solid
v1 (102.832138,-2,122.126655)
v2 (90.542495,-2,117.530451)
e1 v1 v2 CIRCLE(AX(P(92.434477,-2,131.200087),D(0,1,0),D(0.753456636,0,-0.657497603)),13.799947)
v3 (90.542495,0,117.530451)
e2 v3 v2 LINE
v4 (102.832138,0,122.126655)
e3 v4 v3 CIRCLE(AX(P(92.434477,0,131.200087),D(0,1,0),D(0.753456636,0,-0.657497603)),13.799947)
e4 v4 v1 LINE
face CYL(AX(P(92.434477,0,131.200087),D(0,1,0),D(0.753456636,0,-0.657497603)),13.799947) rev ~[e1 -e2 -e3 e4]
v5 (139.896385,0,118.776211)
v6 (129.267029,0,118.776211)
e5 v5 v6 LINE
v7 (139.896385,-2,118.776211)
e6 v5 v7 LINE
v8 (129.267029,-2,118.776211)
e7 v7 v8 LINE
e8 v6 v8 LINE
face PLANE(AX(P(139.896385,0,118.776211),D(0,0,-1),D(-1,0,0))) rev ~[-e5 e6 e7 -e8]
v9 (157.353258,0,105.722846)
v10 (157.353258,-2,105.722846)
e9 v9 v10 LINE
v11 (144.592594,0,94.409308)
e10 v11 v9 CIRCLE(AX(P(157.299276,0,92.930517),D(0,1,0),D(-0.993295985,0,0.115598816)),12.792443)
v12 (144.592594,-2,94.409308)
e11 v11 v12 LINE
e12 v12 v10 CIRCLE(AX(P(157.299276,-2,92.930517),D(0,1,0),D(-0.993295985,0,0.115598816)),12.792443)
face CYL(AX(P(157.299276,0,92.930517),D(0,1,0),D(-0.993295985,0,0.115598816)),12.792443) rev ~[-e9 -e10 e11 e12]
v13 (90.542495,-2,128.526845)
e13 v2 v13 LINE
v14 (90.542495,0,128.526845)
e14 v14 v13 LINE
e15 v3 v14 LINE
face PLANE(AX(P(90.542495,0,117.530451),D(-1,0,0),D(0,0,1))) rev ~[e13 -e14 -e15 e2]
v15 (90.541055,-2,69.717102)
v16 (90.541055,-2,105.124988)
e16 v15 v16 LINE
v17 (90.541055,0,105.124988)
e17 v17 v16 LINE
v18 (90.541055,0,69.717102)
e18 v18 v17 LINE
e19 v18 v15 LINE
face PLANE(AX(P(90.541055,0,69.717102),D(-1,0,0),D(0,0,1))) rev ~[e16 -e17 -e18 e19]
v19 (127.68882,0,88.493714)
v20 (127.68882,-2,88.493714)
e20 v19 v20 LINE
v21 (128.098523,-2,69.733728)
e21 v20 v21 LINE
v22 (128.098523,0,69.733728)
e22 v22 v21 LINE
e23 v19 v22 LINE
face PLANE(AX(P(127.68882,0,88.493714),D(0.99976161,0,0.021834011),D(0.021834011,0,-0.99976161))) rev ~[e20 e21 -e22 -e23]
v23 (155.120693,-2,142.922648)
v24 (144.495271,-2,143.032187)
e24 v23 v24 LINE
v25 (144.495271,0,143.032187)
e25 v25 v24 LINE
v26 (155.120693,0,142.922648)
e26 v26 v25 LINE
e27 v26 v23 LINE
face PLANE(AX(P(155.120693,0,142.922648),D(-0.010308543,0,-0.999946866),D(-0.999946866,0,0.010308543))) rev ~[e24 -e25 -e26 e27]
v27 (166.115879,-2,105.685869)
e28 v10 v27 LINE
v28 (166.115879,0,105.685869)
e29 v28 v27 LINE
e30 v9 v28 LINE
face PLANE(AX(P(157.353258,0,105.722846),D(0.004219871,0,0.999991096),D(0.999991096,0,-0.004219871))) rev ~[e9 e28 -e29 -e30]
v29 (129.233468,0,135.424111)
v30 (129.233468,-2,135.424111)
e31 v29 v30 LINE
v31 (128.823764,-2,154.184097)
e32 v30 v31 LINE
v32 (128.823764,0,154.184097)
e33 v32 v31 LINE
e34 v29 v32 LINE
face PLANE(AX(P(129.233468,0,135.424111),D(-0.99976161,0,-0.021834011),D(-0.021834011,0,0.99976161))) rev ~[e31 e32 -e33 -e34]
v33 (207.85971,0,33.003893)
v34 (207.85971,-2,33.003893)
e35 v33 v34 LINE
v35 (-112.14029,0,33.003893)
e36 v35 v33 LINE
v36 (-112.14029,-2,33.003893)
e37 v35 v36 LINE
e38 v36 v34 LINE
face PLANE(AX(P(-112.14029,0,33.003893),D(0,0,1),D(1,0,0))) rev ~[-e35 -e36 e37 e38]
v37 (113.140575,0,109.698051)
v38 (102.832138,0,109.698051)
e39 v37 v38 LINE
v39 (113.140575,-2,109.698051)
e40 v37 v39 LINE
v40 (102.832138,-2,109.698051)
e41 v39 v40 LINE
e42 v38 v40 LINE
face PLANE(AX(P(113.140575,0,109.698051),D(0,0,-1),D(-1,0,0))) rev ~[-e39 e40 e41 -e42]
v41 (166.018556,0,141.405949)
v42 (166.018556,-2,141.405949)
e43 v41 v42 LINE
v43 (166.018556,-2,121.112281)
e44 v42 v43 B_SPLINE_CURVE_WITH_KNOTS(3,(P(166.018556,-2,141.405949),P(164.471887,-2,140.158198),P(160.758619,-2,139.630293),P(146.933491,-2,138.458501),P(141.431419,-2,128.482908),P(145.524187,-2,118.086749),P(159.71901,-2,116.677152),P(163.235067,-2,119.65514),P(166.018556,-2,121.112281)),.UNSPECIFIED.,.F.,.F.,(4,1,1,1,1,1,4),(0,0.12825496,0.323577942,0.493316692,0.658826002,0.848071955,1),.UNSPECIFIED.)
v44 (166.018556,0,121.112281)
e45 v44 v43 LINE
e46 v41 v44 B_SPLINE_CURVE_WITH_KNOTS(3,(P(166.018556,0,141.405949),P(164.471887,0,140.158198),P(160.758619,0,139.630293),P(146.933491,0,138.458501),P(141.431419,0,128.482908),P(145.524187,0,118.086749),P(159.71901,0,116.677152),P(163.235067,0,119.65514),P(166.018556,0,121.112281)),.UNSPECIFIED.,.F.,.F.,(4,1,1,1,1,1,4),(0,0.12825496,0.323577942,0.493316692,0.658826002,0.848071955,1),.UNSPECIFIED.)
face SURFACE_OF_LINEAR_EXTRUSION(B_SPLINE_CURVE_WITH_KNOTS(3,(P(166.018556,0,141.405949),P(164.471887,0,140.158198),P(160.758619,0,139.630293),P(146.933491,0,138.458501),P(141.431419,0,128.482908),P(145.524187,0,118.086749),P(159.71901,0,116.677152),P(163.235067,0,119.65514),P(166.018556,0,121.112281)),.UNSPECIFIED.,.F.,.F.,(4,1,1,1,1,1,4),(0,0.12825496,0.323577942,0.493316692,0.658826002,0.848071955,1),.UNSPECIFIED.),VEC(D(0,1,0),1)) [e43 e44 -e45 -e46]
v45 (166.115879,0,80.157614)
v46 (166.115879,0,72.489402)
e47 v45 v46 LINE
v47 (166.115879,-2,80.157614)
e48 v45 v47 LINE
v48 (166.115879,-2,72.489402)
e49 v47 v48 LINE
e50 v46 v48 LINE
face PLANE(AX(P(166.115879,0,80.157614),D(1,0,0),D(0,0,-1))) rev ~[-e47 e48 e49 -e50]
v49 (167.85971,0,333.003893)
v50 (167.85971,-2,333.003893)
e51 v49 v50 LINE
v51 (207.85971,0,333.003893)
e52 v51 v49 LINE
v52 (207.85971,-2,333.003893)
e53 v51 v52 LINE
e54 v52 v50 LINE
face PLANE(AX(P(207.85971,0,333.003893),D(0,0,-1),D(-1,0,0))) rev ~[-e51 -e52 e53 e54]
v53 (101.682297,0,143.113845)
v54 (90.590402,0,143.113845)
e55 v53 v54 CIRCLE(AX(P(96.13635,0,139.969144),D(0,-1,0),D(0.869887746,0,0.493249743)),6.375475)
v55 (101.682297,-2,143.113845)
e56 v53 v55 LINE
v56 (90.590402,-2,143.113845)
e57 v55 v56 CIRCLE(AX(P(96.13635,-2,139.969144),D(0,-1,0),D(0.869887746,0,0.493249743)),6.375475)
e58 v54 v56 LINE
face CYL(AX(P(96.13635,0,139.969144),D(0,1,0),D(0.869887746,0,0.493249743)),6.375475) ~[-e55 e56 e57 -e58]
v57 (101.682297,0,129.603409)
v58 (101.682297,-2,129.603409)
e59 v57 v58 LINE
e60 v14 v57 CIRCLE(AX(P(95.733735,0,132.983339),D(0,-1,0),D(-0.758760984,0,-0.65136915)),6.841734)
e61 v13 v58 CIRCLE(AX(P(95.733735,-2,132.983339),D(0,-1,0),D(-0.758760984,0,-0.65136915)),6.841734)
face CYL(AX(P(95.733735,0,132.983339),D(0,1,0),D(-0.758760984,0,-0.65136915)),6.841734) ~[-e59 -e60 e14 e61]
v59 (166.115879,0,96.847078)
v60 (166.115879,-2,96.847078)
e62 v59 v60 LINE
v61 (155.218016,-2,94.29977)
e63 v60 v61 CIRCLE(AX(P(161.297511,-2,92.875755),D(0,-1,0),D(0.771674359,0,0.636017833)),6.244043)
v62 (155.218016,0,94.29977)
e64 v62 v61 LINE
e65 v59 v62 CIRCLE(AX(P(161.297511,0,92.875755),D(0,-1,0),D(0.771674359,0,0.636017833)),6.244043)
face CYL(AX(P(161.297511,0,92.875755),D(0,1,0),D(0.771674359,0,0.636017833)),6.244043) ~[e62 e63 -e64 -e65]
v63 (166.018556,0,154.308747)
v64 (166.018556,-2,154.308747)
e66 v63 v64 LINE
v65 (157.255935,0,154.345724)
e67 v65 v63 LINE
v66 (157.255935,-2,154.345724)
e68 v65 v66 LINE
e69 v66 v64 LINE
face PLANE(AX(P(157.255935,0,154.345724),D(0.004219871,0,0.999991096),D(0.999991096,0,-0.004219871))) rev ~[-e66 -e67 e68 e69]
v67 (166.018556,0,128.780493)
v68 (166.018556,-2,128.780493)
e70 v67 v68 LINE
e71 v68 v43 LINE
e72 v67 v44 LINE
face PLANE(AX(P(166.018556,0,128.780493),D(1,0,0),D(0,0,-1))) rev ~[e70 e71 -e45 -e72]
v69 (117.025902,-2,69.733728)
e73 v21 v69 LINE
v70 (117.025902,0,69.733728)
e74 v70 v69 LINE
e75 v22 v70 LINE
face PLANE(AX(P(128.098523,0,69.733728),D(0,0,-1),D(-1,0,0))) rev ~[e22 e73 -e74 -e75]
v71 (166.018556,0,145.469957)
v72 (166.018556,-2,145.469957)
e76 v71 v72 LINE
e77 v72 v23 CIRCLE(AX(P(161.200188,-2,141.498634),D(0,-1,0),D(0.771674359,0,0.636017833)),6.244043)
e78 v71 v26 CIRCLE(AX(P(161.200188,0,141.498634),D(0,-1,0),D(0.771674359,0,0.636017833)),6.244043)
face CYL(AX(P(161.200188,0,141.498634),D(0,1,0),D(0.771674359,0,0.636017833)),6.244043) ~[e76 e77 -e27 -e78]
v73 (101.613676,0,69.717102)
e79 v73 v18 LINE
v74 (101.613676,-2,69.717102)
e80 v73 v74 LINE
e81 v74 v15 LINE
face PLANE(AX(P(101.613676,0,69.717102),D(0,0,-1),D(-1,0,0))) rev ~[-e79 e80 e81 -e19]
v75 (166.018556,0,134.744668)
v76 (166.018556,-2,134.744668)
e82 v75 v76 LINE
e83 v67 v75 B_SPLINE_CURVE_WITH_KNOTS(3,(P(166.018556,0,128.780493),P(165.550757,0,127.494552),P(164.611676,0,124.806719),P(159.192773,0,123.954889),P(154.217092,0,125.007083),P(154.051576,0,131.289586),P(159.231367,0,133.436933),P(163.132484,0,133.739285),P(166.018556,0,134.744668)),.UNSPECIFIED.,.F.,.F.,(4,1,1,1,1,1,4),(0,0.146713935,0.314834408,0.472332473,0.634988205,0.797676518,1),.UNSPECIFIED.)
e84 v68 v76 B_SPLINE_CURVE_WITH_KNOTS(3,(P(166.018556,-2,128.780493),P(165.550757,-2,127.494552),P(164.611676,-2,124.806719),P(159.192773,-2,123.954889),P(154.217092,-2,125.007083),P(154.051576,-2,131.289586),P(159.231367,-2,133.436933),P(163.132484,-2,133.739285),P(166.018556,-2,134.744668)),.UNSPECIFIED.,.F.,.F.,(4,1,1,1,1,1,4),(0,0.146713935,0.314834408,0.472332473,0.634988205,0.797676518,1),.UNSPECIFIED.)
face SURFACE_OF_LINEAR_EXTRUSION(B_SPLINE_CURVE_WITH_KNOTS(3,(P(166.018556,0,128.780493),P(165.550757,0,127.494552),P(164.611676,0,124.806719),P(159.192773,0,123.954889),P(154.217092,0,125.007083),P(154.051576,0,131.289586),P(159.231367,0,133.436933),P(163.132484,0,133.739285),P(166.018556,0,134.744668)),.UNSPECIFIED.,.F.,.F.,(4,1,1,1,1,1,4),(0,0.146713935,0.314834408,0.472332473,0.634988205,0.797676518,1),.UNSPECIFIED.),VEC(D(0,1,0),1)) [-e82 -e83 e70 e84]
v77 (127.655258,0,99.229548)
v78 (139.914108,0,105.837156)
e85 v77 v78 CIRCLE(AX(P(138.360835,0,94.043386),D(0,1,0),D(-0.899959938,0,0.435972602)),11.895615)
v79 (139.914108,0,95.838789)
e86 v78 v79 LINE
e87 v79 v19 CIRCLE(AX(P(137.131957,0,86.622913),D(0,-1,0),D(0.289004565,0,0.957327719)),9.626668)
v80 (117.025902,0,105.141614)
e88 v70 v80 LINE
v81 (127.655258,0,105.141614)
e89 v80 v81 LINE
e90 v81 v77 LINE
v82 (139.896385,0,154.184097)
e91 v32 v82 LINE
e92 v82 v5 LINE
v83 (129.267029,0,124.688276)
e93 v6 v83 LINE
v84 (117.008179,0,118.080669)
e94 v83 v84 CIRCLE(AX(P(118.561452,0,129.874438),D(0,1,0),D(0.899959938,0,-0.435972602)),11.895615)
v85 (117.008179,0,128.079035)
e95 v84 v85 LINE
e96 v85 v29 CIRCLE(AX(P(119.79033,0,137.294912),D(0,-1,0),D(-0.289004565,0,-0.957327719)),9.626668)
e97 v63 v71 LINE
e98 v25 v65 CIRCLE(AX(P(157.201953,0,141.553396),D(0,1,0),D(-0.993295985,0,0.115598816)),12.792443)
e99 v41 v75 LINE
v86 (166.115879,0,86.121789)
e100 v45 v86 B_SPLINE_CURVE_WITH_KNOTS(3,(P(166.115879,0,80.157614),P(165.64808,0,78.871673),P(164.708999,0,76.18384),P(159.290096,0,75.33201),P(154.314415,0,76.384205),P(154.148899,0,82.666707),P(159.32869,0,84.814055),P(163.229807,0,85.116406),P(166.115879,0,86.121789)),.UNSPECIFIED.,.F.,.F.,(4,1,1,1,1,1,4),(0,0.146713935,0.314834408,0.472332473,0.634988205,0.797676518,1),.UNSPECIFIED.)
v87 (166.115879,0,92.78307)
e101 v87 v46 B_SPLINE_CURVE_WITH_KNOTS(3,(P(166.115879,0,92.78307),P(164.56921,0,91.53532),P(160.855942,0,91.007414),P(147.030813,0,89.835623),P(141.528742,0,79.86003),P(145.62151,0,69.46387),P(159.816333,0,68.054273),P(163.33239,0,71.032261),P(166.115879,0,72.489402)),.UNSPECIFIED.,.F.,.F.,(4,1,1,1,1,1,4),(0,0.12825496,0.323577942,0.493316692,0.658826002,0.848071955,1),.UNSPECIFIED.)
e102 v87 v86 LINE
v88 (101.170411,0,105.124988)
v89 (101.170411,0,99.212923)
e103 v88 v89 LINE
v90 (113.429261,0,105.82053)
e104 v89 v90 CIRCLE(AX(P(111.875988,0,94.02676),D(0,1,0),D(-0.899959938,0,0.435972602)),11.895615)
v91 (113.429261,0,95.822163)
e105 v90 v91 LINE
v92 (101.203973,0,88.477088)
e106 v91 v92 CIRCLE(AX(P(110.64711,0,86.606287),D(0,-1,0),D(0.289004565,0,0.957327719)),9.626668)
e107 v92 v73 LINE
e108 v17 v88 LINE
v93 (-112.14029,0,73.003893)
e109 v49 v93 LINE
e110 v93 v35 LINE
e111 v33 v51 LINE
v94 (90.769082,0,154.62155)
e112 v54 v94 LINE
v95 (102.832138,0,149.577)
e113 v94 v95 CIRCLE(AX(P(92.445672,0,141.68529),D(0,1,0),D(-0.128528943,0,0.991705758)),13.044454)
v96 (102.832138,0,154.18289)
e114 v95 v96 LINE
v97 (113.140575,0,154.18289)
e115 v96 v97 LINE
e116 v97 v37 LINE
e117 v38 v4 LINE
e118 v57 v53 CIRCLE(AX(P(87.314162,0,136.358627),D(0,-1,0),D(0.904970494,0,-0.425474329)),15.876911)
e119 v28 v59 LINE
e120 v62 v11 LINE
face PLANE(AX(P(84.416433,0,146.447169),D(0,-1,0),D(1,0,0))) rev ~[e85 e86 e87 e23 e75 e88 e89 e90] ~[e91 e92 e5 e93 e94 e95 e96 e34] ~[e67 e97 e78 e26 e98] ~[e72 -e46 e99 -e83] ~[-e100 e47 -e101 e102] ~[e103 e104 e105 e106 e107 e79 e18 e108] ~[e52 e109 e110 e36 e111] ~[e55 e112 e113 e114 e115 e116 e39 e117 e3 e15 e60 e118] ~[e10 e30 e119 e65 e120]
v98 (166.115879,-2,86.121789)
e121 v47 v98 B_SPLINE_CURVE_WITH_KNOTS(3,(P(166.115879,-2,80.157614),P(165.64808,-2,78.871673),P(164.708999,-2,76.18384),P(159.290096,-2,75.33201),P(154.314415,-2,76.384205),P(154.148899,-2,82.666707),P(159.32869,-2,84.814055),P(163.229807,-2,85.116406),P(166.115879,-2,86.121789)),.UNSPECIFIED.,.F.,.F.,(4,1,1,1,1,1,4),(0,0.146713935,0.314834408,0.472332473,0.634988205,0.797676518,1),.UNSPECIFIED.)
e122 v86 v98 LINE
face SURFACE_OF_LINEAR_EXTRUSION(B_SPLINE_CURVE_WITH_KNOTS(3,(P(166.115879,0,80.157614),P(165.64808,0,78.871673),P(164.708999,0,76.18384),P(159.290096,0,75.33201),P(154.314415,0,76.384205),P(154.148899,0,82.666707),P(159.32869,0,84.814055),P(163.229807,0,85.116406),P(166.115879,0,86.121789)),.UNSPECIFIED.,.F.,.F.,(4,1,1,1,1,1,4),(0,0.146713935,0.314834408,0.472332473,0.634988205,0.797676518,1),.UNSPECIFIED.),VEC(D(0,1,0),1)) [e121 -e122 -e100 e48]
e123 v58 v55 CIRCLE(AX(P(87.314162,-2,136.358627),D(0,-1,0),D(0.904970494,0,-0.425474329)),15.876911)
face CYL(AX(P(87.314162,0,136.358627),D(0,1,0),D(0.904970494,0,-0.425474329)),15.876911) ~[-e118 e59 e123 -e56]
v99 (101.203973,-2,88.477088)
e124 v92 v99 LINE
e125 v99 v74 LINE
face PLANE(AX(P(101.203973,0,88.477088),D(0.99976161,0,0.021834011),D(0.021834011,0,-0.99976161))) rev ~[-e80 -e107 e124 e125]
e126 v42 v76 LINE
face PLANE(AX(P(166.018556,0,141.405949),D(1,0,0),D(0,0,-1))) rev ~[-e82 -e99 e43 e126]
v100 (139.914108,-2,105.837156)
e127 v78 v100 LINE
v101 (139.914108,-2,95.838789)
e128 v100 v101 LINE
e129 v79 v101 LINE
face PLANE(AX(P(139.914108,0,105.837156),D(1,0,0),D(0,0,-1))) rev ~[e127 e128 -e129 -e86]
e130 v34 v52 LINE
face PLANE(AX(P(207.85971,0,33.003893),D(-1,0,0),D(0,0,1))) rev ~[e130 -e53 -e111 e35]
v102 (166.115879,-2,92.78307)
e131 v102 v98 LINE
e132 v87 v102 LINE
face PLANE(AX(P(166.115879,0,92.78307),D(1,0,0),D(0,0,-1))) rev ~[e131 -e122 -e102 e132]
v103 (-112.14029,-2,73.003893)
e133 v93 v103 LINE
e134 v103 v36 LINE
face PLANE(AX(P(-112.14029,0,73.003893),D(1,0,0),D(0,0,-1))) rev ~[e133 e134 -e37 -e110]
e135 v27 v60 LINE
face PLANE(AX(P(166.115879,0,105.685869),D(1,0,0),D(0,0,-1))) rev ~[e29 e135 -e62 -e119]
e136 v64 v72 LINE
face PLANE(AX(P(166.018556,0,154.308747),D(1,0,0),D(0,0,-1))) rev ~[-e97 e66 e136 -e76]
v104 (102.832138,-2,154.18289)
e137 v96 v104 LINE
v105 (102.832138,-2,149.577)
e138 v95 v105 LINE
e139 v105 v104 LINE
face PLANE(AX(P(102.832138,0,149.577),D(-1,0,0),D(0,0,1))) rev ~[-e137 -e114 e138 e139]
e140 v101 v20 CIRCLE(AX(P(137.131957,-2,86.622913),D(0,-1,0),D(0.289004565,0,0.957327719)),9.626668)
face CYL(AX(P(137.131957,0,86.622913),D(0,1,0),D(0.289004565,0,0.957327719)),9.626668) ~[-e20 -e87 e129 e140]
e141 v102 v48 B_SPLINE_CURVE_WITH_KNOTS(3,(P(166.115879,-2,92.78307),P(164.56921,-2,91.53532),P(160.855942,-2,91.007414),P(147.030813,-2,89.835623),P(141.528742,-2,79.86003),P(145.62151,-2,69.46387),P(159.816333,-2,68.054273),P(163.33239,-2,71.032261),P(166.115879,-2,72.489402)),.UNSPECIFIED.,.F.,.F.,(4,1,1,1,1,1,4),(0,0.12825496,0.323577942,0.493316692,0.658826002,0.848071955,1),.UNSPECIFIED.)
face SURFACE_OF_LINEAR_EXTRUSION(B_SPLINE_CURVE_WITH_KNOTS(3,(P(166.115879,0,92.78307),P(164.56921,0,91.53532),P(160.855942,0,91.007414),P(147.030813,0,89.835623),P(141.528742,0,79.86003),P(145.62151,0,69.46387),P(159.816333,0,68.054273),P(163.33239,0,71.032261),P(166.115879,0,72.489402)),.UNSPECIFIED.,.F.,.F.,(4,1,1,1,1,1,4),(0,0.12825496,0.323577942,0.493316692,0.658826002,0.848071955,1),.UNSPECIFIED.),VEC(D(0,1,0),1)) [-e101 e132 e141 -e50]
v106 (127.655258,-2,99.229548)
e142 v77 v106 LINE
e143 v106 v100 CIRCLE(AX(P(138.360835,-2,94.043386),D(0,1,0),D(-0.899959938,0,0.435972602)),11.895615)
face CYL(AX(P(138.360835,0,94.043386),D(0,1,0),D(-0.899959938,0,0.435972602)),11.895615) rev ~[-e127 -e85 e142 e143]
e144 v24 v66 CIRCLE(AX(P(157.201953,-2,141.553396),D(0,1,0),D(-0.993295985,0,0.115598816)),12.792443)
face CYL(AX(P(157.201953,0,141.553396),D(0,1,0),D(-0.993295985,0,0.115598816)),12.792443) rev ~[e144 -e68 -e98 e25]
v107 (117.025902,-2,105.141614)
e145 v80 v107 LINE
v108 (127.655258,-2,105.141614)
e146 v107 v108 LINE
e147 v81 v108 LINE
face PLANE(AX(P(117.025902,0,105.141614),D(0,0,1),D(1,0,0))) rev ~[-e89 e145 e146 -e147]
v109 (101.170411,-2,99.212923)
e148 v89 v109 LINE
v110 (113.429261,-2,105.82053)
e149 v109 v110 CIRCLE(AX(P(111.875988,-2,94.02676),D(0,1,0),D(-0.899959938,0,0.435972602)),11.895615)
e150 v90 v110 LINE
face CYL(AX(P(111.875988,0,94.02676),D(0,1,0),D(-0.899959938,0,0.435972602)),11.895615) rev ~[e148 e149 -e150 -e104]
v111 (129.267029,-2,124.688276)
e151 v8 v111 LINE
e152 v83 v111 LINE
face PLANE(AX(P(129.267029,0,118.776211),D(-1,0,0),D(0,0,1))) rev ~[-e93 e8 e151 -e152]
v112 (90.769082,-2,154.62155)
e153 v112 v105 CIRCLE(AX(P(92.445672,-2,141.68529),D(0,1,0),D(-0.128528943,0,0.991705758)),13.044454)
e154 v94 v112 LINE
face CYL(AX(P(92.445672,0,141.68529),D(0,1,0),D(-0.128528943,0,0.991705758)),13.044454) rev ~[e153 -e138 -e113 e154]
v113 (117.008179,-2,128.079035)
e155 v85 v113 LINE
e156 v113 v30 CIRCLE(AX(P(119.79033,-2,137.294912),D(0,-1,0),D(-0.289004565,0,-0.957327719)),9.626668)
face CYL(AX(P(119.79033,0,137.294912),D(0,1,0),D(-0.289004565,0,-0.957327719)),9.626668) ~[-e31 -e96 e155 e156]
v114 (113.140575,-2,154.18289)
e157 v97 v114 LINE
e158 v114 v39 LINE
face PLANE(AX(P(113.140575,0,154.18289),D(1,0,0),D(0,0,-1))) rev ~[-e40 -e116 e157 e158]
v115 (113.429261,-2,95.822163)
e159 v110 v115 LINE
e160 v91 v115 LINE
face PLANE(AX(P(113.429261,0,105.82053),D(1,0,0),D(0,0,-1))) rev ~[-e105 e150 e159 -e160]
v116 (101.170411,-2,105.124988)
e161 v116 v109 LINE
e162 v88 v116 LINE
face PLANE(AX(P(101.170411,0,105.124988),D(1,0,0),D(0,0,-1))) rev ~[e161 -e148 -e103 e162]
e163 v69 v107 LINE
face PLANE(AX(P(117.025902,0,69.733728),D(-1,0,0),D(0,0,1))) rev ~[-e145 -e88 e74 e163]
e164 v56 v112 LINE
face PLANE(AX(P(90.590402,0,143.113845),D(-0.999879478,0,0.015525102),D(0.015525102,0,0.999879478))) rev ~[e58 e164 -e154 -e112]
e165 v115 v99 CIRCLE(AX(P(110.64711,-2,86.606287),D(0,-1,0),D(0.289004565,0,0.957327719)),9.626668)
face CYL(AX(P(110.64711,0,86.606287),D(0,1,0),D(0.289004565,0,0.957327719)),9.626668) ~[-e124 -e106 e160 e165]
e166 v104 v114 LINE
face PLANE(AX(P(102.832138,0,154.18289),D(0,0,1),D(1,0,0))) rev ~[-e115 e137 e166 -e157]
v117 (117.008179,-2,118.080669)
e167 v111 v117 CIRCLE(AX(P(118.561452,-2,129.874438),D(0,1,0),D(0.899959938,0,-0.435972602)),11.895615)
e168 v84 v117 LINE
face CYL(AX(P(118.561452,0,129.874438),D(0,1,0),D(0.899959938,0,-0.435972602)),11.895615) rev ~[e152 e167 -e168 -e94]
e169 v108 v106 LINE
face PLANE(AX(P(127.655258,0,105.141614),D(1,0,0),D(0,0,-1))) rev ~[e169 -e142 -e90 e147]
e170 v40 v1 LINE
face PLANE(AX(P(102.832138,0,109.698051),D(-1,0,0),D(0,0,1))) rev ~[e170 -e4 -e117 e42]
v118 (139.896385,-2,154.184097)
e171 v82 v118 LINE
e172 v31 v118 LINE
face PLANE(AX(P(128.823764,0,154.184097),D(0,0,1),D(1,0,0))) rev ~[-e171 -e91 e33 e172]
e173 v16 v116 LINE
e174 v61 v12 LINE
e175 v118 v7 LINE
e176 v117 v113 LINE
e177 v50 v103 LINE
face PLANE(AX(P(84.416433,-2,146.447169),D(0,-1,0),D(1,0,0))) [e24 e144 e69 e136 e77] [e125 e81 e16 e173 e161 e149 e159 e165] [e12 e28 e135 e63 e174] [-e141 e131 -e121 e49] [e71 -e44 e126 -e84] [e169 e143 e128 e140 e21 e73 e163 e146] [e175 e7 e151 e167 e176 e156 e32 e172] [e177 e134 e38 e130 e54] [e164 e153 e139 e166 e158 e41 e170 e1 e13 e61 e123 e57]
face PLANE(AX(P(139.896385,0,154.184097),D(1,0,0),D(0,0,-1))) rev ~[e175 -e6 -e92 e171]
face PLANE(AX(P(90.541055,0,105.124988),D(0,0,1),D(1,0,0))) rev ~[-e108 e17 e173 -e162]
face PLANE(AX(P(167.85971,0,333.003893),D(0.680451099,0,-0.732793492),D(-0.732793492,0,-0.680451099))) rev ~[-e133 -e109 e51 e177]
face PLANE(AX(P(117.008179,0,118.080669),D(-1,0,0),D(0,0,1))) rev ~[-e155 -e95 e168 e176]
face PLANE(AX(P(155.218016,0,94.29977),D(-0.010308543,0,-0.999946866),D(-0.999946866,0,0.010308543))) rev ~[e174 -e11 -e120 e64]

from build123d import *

# Parameters (mm, degrees)
F1_DEPTH = 2


with BuildPart() as f1:
    # F0 (on Front) → F1 (new body)
    with BuildSketch(Plane.XZ):
        Polygon((-112.1402904391, 33.0038927495), (207.8597095609, 33.0038927495), (207.8597095609, 332.3038927495), (207.8597095609, 333.0038927495), (167.8597095609, 333.0038927495), (-112.1402904391, 73.0038927495), align=None)
        with BuildLine():
            Line((101.2039725726, 88.4770882584), (101.6136759777, 69.7171021446))
            Line((101.6136759777, 69.7171021446), (90.5410552282, 69.7171021446))
            Line((90.5410552282, 69.7171021446), (90.5410552282, 105.1249880537))
            Line((90.5410552282, 105.1249880537), (101.1704111356, 105.1249880537))
            Line((101.1704111356, 105.1249880537), (101.1704111356, 99.2129225477))
            ThreePointArc((101.1704111356, 99.2129225477), (106.2318508757, 104.4981198242), (113.4292611737, 105.8205295548))
            Line((113.4292611737, 105.8205295548), (113.4292611737, 95.8221633181))
            ThreePointArc((113.4292611737, 95.8221633181), (105.6893165245, 94.8581367621), (101.2039725726, 88.4770882584))
        make_face(mode=Mode.SUBTRACT)
        with BuildLine():
            Line((127.6888195951, 88.4937142061), (128.0985230001, 69.7337280923))
            Line((128.0985230001, 69.7337280923), (117.0259022507, 69.7337280923))
            Line((117.0259022507, 69.7337280923), (117.0259022507, 105.1416140014))
            Line((117.0259022507, 105.1416140014), (127.6552581581, 105.1416140014))
            Line((127.6552581581, 105.1416140014), (127.6552581581, 99.2295484954))
            ThreePointArc((127.6552581581, 99.2295484954), (132.7166978981, 104.5147457719), (139.9141081962, 105.8371555025))
            Line((139.9141081962, 105.8371555025), (139.9141081962, 95.8387892658))
            ThreePointArc((139.9141081962, 95.8387892658), (132.1741635469, 94.8747627098), (127.6888195951, 88.4937142061))
        make_face(mode=Mode.SUBTRACT)
        with BuildLine():
            add(Edge.make_bspline(
                [(166.1158787618, 92.7830700848), (164.5692102089, 91.5353198263), (160.8559417387, 91.0074140824), (147.0308134747, 89.8356227603), (141.5287422164, 79.8600298922), (145.6215095019, 69.4638702682), (159.8163332075, 68.0542730887), (163.3323899676, 71.0322612124), (166.1158787618, 72.4894021723)],
                knots=[0, 0, 0, 0, 0.1282549597, 0.3235779421, 0.4933166916, 0.6588260023, 0.8480719548, 1, 1, 1, 1], degree=3))
            Line((166.1158787618, 92.7830700848), (166.1158787618, 86.1217890952))
            add(Edge.make_bspline(
                [(166.1158787618, 80.1576142285), (165.648079511, 78.8716732666), (164.7089985438, 76.1838402752), (159.2900957109, 75.3320101397), (154.3144147308, 76.3842047893), (154.1488989038, 82.6667071186), (159.3286899056, 84.8140545113), (163.2298071329, 85.1164060676), (166.1158787618, 86.1217890952)],
                knots=[0, 0, 0, 0, 0.1467139352, 0.3148344078, 0.4723324727, 0.6349882053, 0.7976765175, 1, 1, 1, 1], degree=3))
            Line((166.1158787618, 80.1576142285), (166.1158787618, 72.4894021723))
        make_face(mode=Mode.SUBTRACT)
        with BuildLine():
            ThreePointArc((144.5925937182, 94.4093083117), (148.8127137387, 102.502604489), (157.3532582577, 105.7228459891))
            Line((157.3532582577, 105.7228459891), (166.1158787618, 105.6858685351))
            Line((166.1158787618, 105.6858685351), (166.1158787618, 96.8470781765))
            ThreePointArc((166.1158787618, 96.8470781765), (159.8763121864, 98.9559091904), (155.2180157191, 94.2997698758))
            Line((155.2180157191, 94.2997698758), (144.5925937182, 94.4093083117))
        make_face(mode=Mode.SUBTRACT)
        with BuildLine():
            ThreePointArc((90.7690819051, 154.6215500374), (97.4783010599, 153.7198410632), (102.8321381356, 149.5770003338))
            Line((102.8321381356, 149.5770003338), (102.8321381356, 154.1828896542))
            Line((102.8321381356, 154.1828896542), (113.140575185, 154.1828896542))
            Line((113.140575185, 154.1828896542), (113.140575185, 109.6980508108))
            Line((113.140575185, 109.6980508108), (102.8321381356, 109.6980508108))
            Line((102.8321381356, 109.6980508108), (102.8321381356, 122.1266548772))
            ThreePointArc((102.8321381356, 122.1266548772), (97.2685141585, 118.2745070428), (90.5424948479, 117.5304513116))
            Line((90.5424948479, 117.5304513116), (90.5424948479, 128.526845171))
            ThreePointArc((90.5424948479, 128.526845171), (96.3918627119, 126.17333299), (101.6822974827, 129.6034093638))
            ThreePointArc((101.6822974827, 129.6034093638), (103.1910724549, 136.3586272736), (101.6822974827, 143.1138451834))
            ThreePointArc((101.6822974827, 143.1138451834), (96.1363497819, 146.3446188485), (90.5904020812, 143.1138451834))
            Line((90.5904020812, 143.1138451834), (90.7690819051, 154.6215500374))
        make_face(mode=Mode.SUBTRACT)
        with BuildLine():
            Line((129.2334676245, 135.4241105345), (128.8237642195, 154.1840966483))
            Line((128.8237642195, 154.1840966483), (139.8963849689, 154.1840966483))
            Line((139.8963849689, 154.1840966483), (139.8963849689, 118.7762107392))
            Line((139.8963849689, 118.7762107392), (129.2670290615, 118.7762107392))
            Line((129.2670290615, 118.7762107392), (129.2670290615, 124.6882762452))
            ThreePointArc((129.2670290615, 124.6882762452), (124.2055893215, 119.4030789686), (117.0081790234, 118.0806692381))
            Line((117.0081790234, 118.0806692381), (117.0081790234, 128.0790354748))
            ThreePointArc((117.0081790234, 128.0790354748), (124.7481236727, 129.0430620307), (129.2334676245, 135.4241105345))
        make_face(mode=Mode.SUBTRACT)
        with BuildLine():
            add(Edge.make_bspline(
                [(166.0185557871, 141.4059485932), (164.4718872342, 140.1581983347), (160.7586187641, 139.6302925908), (146.9334905, 138.4585012686), (141.4314192417, 128.4829084005), (145.5241865272, 118.0867487766), (159.7190102328, 116.6771515971), (163.2350669929, 119.6551397208), (166.0185557871, 121.1122806807)],
                knots=[0, 0, 0, 0, 0.1282549597, 0.3235779421, 0.4933166916, 0.6588260023, 0.8480719548, 1, 1, 1, 1], degree=3))
            Line((166.0185557871, 141.4059485932), (166.0185557871, 134.7446676035))
            add(Edge.make_bspline(
                [(166.0185557871, 128.7804927369), (165.5507565363, 127.4945517749), (164.6116755691, 124.8067187836), (159.1927727362, 123.9548886481), (154.2170917561, 125.0070832977), (154.0515759291, 131.2895856269), (159.231366931, 133.4369330196), (163.1324841582, 133.739284576), (166.0185557871, 134.7446676035)],
                knots=[0, 0, 0, 0, 0.1467139352, 0.3148344078, 0.4723324727, 0.6349882053, 0.7976765175, 1, 1, 1, 1], degree=3))
            Line((166.0185557871, 128.7804927369), (166.0185557871, 121.1122806807))
        make_face(mode=Mode.SUBTRACT)
        with BuildLine():
            ThreePointArc((144.4952707435, 143.0321868201), (148.715390764, 151.1254829974), (157.255935283, 154.3457244975))
            Line((157.255935283, 154.3457244975), (166.0185557871, 154.3087470435))
            Line((166.0185557871, 154.3087470435), (166.0185557871, 145.4699566849))
            ThreePointArc((166.0185557871, 145.4699566849), (159.7789892117, 147.5787876987), (155.1206927444, 142.9226483841))
            Line((155.1206927444, 142.9226483841), (144.4952707435, 143.0321868201))
        make_face(mode=Mode.SUBTRACT)
    extrude(amount=F1_DEPTH)


solid = f1.part
